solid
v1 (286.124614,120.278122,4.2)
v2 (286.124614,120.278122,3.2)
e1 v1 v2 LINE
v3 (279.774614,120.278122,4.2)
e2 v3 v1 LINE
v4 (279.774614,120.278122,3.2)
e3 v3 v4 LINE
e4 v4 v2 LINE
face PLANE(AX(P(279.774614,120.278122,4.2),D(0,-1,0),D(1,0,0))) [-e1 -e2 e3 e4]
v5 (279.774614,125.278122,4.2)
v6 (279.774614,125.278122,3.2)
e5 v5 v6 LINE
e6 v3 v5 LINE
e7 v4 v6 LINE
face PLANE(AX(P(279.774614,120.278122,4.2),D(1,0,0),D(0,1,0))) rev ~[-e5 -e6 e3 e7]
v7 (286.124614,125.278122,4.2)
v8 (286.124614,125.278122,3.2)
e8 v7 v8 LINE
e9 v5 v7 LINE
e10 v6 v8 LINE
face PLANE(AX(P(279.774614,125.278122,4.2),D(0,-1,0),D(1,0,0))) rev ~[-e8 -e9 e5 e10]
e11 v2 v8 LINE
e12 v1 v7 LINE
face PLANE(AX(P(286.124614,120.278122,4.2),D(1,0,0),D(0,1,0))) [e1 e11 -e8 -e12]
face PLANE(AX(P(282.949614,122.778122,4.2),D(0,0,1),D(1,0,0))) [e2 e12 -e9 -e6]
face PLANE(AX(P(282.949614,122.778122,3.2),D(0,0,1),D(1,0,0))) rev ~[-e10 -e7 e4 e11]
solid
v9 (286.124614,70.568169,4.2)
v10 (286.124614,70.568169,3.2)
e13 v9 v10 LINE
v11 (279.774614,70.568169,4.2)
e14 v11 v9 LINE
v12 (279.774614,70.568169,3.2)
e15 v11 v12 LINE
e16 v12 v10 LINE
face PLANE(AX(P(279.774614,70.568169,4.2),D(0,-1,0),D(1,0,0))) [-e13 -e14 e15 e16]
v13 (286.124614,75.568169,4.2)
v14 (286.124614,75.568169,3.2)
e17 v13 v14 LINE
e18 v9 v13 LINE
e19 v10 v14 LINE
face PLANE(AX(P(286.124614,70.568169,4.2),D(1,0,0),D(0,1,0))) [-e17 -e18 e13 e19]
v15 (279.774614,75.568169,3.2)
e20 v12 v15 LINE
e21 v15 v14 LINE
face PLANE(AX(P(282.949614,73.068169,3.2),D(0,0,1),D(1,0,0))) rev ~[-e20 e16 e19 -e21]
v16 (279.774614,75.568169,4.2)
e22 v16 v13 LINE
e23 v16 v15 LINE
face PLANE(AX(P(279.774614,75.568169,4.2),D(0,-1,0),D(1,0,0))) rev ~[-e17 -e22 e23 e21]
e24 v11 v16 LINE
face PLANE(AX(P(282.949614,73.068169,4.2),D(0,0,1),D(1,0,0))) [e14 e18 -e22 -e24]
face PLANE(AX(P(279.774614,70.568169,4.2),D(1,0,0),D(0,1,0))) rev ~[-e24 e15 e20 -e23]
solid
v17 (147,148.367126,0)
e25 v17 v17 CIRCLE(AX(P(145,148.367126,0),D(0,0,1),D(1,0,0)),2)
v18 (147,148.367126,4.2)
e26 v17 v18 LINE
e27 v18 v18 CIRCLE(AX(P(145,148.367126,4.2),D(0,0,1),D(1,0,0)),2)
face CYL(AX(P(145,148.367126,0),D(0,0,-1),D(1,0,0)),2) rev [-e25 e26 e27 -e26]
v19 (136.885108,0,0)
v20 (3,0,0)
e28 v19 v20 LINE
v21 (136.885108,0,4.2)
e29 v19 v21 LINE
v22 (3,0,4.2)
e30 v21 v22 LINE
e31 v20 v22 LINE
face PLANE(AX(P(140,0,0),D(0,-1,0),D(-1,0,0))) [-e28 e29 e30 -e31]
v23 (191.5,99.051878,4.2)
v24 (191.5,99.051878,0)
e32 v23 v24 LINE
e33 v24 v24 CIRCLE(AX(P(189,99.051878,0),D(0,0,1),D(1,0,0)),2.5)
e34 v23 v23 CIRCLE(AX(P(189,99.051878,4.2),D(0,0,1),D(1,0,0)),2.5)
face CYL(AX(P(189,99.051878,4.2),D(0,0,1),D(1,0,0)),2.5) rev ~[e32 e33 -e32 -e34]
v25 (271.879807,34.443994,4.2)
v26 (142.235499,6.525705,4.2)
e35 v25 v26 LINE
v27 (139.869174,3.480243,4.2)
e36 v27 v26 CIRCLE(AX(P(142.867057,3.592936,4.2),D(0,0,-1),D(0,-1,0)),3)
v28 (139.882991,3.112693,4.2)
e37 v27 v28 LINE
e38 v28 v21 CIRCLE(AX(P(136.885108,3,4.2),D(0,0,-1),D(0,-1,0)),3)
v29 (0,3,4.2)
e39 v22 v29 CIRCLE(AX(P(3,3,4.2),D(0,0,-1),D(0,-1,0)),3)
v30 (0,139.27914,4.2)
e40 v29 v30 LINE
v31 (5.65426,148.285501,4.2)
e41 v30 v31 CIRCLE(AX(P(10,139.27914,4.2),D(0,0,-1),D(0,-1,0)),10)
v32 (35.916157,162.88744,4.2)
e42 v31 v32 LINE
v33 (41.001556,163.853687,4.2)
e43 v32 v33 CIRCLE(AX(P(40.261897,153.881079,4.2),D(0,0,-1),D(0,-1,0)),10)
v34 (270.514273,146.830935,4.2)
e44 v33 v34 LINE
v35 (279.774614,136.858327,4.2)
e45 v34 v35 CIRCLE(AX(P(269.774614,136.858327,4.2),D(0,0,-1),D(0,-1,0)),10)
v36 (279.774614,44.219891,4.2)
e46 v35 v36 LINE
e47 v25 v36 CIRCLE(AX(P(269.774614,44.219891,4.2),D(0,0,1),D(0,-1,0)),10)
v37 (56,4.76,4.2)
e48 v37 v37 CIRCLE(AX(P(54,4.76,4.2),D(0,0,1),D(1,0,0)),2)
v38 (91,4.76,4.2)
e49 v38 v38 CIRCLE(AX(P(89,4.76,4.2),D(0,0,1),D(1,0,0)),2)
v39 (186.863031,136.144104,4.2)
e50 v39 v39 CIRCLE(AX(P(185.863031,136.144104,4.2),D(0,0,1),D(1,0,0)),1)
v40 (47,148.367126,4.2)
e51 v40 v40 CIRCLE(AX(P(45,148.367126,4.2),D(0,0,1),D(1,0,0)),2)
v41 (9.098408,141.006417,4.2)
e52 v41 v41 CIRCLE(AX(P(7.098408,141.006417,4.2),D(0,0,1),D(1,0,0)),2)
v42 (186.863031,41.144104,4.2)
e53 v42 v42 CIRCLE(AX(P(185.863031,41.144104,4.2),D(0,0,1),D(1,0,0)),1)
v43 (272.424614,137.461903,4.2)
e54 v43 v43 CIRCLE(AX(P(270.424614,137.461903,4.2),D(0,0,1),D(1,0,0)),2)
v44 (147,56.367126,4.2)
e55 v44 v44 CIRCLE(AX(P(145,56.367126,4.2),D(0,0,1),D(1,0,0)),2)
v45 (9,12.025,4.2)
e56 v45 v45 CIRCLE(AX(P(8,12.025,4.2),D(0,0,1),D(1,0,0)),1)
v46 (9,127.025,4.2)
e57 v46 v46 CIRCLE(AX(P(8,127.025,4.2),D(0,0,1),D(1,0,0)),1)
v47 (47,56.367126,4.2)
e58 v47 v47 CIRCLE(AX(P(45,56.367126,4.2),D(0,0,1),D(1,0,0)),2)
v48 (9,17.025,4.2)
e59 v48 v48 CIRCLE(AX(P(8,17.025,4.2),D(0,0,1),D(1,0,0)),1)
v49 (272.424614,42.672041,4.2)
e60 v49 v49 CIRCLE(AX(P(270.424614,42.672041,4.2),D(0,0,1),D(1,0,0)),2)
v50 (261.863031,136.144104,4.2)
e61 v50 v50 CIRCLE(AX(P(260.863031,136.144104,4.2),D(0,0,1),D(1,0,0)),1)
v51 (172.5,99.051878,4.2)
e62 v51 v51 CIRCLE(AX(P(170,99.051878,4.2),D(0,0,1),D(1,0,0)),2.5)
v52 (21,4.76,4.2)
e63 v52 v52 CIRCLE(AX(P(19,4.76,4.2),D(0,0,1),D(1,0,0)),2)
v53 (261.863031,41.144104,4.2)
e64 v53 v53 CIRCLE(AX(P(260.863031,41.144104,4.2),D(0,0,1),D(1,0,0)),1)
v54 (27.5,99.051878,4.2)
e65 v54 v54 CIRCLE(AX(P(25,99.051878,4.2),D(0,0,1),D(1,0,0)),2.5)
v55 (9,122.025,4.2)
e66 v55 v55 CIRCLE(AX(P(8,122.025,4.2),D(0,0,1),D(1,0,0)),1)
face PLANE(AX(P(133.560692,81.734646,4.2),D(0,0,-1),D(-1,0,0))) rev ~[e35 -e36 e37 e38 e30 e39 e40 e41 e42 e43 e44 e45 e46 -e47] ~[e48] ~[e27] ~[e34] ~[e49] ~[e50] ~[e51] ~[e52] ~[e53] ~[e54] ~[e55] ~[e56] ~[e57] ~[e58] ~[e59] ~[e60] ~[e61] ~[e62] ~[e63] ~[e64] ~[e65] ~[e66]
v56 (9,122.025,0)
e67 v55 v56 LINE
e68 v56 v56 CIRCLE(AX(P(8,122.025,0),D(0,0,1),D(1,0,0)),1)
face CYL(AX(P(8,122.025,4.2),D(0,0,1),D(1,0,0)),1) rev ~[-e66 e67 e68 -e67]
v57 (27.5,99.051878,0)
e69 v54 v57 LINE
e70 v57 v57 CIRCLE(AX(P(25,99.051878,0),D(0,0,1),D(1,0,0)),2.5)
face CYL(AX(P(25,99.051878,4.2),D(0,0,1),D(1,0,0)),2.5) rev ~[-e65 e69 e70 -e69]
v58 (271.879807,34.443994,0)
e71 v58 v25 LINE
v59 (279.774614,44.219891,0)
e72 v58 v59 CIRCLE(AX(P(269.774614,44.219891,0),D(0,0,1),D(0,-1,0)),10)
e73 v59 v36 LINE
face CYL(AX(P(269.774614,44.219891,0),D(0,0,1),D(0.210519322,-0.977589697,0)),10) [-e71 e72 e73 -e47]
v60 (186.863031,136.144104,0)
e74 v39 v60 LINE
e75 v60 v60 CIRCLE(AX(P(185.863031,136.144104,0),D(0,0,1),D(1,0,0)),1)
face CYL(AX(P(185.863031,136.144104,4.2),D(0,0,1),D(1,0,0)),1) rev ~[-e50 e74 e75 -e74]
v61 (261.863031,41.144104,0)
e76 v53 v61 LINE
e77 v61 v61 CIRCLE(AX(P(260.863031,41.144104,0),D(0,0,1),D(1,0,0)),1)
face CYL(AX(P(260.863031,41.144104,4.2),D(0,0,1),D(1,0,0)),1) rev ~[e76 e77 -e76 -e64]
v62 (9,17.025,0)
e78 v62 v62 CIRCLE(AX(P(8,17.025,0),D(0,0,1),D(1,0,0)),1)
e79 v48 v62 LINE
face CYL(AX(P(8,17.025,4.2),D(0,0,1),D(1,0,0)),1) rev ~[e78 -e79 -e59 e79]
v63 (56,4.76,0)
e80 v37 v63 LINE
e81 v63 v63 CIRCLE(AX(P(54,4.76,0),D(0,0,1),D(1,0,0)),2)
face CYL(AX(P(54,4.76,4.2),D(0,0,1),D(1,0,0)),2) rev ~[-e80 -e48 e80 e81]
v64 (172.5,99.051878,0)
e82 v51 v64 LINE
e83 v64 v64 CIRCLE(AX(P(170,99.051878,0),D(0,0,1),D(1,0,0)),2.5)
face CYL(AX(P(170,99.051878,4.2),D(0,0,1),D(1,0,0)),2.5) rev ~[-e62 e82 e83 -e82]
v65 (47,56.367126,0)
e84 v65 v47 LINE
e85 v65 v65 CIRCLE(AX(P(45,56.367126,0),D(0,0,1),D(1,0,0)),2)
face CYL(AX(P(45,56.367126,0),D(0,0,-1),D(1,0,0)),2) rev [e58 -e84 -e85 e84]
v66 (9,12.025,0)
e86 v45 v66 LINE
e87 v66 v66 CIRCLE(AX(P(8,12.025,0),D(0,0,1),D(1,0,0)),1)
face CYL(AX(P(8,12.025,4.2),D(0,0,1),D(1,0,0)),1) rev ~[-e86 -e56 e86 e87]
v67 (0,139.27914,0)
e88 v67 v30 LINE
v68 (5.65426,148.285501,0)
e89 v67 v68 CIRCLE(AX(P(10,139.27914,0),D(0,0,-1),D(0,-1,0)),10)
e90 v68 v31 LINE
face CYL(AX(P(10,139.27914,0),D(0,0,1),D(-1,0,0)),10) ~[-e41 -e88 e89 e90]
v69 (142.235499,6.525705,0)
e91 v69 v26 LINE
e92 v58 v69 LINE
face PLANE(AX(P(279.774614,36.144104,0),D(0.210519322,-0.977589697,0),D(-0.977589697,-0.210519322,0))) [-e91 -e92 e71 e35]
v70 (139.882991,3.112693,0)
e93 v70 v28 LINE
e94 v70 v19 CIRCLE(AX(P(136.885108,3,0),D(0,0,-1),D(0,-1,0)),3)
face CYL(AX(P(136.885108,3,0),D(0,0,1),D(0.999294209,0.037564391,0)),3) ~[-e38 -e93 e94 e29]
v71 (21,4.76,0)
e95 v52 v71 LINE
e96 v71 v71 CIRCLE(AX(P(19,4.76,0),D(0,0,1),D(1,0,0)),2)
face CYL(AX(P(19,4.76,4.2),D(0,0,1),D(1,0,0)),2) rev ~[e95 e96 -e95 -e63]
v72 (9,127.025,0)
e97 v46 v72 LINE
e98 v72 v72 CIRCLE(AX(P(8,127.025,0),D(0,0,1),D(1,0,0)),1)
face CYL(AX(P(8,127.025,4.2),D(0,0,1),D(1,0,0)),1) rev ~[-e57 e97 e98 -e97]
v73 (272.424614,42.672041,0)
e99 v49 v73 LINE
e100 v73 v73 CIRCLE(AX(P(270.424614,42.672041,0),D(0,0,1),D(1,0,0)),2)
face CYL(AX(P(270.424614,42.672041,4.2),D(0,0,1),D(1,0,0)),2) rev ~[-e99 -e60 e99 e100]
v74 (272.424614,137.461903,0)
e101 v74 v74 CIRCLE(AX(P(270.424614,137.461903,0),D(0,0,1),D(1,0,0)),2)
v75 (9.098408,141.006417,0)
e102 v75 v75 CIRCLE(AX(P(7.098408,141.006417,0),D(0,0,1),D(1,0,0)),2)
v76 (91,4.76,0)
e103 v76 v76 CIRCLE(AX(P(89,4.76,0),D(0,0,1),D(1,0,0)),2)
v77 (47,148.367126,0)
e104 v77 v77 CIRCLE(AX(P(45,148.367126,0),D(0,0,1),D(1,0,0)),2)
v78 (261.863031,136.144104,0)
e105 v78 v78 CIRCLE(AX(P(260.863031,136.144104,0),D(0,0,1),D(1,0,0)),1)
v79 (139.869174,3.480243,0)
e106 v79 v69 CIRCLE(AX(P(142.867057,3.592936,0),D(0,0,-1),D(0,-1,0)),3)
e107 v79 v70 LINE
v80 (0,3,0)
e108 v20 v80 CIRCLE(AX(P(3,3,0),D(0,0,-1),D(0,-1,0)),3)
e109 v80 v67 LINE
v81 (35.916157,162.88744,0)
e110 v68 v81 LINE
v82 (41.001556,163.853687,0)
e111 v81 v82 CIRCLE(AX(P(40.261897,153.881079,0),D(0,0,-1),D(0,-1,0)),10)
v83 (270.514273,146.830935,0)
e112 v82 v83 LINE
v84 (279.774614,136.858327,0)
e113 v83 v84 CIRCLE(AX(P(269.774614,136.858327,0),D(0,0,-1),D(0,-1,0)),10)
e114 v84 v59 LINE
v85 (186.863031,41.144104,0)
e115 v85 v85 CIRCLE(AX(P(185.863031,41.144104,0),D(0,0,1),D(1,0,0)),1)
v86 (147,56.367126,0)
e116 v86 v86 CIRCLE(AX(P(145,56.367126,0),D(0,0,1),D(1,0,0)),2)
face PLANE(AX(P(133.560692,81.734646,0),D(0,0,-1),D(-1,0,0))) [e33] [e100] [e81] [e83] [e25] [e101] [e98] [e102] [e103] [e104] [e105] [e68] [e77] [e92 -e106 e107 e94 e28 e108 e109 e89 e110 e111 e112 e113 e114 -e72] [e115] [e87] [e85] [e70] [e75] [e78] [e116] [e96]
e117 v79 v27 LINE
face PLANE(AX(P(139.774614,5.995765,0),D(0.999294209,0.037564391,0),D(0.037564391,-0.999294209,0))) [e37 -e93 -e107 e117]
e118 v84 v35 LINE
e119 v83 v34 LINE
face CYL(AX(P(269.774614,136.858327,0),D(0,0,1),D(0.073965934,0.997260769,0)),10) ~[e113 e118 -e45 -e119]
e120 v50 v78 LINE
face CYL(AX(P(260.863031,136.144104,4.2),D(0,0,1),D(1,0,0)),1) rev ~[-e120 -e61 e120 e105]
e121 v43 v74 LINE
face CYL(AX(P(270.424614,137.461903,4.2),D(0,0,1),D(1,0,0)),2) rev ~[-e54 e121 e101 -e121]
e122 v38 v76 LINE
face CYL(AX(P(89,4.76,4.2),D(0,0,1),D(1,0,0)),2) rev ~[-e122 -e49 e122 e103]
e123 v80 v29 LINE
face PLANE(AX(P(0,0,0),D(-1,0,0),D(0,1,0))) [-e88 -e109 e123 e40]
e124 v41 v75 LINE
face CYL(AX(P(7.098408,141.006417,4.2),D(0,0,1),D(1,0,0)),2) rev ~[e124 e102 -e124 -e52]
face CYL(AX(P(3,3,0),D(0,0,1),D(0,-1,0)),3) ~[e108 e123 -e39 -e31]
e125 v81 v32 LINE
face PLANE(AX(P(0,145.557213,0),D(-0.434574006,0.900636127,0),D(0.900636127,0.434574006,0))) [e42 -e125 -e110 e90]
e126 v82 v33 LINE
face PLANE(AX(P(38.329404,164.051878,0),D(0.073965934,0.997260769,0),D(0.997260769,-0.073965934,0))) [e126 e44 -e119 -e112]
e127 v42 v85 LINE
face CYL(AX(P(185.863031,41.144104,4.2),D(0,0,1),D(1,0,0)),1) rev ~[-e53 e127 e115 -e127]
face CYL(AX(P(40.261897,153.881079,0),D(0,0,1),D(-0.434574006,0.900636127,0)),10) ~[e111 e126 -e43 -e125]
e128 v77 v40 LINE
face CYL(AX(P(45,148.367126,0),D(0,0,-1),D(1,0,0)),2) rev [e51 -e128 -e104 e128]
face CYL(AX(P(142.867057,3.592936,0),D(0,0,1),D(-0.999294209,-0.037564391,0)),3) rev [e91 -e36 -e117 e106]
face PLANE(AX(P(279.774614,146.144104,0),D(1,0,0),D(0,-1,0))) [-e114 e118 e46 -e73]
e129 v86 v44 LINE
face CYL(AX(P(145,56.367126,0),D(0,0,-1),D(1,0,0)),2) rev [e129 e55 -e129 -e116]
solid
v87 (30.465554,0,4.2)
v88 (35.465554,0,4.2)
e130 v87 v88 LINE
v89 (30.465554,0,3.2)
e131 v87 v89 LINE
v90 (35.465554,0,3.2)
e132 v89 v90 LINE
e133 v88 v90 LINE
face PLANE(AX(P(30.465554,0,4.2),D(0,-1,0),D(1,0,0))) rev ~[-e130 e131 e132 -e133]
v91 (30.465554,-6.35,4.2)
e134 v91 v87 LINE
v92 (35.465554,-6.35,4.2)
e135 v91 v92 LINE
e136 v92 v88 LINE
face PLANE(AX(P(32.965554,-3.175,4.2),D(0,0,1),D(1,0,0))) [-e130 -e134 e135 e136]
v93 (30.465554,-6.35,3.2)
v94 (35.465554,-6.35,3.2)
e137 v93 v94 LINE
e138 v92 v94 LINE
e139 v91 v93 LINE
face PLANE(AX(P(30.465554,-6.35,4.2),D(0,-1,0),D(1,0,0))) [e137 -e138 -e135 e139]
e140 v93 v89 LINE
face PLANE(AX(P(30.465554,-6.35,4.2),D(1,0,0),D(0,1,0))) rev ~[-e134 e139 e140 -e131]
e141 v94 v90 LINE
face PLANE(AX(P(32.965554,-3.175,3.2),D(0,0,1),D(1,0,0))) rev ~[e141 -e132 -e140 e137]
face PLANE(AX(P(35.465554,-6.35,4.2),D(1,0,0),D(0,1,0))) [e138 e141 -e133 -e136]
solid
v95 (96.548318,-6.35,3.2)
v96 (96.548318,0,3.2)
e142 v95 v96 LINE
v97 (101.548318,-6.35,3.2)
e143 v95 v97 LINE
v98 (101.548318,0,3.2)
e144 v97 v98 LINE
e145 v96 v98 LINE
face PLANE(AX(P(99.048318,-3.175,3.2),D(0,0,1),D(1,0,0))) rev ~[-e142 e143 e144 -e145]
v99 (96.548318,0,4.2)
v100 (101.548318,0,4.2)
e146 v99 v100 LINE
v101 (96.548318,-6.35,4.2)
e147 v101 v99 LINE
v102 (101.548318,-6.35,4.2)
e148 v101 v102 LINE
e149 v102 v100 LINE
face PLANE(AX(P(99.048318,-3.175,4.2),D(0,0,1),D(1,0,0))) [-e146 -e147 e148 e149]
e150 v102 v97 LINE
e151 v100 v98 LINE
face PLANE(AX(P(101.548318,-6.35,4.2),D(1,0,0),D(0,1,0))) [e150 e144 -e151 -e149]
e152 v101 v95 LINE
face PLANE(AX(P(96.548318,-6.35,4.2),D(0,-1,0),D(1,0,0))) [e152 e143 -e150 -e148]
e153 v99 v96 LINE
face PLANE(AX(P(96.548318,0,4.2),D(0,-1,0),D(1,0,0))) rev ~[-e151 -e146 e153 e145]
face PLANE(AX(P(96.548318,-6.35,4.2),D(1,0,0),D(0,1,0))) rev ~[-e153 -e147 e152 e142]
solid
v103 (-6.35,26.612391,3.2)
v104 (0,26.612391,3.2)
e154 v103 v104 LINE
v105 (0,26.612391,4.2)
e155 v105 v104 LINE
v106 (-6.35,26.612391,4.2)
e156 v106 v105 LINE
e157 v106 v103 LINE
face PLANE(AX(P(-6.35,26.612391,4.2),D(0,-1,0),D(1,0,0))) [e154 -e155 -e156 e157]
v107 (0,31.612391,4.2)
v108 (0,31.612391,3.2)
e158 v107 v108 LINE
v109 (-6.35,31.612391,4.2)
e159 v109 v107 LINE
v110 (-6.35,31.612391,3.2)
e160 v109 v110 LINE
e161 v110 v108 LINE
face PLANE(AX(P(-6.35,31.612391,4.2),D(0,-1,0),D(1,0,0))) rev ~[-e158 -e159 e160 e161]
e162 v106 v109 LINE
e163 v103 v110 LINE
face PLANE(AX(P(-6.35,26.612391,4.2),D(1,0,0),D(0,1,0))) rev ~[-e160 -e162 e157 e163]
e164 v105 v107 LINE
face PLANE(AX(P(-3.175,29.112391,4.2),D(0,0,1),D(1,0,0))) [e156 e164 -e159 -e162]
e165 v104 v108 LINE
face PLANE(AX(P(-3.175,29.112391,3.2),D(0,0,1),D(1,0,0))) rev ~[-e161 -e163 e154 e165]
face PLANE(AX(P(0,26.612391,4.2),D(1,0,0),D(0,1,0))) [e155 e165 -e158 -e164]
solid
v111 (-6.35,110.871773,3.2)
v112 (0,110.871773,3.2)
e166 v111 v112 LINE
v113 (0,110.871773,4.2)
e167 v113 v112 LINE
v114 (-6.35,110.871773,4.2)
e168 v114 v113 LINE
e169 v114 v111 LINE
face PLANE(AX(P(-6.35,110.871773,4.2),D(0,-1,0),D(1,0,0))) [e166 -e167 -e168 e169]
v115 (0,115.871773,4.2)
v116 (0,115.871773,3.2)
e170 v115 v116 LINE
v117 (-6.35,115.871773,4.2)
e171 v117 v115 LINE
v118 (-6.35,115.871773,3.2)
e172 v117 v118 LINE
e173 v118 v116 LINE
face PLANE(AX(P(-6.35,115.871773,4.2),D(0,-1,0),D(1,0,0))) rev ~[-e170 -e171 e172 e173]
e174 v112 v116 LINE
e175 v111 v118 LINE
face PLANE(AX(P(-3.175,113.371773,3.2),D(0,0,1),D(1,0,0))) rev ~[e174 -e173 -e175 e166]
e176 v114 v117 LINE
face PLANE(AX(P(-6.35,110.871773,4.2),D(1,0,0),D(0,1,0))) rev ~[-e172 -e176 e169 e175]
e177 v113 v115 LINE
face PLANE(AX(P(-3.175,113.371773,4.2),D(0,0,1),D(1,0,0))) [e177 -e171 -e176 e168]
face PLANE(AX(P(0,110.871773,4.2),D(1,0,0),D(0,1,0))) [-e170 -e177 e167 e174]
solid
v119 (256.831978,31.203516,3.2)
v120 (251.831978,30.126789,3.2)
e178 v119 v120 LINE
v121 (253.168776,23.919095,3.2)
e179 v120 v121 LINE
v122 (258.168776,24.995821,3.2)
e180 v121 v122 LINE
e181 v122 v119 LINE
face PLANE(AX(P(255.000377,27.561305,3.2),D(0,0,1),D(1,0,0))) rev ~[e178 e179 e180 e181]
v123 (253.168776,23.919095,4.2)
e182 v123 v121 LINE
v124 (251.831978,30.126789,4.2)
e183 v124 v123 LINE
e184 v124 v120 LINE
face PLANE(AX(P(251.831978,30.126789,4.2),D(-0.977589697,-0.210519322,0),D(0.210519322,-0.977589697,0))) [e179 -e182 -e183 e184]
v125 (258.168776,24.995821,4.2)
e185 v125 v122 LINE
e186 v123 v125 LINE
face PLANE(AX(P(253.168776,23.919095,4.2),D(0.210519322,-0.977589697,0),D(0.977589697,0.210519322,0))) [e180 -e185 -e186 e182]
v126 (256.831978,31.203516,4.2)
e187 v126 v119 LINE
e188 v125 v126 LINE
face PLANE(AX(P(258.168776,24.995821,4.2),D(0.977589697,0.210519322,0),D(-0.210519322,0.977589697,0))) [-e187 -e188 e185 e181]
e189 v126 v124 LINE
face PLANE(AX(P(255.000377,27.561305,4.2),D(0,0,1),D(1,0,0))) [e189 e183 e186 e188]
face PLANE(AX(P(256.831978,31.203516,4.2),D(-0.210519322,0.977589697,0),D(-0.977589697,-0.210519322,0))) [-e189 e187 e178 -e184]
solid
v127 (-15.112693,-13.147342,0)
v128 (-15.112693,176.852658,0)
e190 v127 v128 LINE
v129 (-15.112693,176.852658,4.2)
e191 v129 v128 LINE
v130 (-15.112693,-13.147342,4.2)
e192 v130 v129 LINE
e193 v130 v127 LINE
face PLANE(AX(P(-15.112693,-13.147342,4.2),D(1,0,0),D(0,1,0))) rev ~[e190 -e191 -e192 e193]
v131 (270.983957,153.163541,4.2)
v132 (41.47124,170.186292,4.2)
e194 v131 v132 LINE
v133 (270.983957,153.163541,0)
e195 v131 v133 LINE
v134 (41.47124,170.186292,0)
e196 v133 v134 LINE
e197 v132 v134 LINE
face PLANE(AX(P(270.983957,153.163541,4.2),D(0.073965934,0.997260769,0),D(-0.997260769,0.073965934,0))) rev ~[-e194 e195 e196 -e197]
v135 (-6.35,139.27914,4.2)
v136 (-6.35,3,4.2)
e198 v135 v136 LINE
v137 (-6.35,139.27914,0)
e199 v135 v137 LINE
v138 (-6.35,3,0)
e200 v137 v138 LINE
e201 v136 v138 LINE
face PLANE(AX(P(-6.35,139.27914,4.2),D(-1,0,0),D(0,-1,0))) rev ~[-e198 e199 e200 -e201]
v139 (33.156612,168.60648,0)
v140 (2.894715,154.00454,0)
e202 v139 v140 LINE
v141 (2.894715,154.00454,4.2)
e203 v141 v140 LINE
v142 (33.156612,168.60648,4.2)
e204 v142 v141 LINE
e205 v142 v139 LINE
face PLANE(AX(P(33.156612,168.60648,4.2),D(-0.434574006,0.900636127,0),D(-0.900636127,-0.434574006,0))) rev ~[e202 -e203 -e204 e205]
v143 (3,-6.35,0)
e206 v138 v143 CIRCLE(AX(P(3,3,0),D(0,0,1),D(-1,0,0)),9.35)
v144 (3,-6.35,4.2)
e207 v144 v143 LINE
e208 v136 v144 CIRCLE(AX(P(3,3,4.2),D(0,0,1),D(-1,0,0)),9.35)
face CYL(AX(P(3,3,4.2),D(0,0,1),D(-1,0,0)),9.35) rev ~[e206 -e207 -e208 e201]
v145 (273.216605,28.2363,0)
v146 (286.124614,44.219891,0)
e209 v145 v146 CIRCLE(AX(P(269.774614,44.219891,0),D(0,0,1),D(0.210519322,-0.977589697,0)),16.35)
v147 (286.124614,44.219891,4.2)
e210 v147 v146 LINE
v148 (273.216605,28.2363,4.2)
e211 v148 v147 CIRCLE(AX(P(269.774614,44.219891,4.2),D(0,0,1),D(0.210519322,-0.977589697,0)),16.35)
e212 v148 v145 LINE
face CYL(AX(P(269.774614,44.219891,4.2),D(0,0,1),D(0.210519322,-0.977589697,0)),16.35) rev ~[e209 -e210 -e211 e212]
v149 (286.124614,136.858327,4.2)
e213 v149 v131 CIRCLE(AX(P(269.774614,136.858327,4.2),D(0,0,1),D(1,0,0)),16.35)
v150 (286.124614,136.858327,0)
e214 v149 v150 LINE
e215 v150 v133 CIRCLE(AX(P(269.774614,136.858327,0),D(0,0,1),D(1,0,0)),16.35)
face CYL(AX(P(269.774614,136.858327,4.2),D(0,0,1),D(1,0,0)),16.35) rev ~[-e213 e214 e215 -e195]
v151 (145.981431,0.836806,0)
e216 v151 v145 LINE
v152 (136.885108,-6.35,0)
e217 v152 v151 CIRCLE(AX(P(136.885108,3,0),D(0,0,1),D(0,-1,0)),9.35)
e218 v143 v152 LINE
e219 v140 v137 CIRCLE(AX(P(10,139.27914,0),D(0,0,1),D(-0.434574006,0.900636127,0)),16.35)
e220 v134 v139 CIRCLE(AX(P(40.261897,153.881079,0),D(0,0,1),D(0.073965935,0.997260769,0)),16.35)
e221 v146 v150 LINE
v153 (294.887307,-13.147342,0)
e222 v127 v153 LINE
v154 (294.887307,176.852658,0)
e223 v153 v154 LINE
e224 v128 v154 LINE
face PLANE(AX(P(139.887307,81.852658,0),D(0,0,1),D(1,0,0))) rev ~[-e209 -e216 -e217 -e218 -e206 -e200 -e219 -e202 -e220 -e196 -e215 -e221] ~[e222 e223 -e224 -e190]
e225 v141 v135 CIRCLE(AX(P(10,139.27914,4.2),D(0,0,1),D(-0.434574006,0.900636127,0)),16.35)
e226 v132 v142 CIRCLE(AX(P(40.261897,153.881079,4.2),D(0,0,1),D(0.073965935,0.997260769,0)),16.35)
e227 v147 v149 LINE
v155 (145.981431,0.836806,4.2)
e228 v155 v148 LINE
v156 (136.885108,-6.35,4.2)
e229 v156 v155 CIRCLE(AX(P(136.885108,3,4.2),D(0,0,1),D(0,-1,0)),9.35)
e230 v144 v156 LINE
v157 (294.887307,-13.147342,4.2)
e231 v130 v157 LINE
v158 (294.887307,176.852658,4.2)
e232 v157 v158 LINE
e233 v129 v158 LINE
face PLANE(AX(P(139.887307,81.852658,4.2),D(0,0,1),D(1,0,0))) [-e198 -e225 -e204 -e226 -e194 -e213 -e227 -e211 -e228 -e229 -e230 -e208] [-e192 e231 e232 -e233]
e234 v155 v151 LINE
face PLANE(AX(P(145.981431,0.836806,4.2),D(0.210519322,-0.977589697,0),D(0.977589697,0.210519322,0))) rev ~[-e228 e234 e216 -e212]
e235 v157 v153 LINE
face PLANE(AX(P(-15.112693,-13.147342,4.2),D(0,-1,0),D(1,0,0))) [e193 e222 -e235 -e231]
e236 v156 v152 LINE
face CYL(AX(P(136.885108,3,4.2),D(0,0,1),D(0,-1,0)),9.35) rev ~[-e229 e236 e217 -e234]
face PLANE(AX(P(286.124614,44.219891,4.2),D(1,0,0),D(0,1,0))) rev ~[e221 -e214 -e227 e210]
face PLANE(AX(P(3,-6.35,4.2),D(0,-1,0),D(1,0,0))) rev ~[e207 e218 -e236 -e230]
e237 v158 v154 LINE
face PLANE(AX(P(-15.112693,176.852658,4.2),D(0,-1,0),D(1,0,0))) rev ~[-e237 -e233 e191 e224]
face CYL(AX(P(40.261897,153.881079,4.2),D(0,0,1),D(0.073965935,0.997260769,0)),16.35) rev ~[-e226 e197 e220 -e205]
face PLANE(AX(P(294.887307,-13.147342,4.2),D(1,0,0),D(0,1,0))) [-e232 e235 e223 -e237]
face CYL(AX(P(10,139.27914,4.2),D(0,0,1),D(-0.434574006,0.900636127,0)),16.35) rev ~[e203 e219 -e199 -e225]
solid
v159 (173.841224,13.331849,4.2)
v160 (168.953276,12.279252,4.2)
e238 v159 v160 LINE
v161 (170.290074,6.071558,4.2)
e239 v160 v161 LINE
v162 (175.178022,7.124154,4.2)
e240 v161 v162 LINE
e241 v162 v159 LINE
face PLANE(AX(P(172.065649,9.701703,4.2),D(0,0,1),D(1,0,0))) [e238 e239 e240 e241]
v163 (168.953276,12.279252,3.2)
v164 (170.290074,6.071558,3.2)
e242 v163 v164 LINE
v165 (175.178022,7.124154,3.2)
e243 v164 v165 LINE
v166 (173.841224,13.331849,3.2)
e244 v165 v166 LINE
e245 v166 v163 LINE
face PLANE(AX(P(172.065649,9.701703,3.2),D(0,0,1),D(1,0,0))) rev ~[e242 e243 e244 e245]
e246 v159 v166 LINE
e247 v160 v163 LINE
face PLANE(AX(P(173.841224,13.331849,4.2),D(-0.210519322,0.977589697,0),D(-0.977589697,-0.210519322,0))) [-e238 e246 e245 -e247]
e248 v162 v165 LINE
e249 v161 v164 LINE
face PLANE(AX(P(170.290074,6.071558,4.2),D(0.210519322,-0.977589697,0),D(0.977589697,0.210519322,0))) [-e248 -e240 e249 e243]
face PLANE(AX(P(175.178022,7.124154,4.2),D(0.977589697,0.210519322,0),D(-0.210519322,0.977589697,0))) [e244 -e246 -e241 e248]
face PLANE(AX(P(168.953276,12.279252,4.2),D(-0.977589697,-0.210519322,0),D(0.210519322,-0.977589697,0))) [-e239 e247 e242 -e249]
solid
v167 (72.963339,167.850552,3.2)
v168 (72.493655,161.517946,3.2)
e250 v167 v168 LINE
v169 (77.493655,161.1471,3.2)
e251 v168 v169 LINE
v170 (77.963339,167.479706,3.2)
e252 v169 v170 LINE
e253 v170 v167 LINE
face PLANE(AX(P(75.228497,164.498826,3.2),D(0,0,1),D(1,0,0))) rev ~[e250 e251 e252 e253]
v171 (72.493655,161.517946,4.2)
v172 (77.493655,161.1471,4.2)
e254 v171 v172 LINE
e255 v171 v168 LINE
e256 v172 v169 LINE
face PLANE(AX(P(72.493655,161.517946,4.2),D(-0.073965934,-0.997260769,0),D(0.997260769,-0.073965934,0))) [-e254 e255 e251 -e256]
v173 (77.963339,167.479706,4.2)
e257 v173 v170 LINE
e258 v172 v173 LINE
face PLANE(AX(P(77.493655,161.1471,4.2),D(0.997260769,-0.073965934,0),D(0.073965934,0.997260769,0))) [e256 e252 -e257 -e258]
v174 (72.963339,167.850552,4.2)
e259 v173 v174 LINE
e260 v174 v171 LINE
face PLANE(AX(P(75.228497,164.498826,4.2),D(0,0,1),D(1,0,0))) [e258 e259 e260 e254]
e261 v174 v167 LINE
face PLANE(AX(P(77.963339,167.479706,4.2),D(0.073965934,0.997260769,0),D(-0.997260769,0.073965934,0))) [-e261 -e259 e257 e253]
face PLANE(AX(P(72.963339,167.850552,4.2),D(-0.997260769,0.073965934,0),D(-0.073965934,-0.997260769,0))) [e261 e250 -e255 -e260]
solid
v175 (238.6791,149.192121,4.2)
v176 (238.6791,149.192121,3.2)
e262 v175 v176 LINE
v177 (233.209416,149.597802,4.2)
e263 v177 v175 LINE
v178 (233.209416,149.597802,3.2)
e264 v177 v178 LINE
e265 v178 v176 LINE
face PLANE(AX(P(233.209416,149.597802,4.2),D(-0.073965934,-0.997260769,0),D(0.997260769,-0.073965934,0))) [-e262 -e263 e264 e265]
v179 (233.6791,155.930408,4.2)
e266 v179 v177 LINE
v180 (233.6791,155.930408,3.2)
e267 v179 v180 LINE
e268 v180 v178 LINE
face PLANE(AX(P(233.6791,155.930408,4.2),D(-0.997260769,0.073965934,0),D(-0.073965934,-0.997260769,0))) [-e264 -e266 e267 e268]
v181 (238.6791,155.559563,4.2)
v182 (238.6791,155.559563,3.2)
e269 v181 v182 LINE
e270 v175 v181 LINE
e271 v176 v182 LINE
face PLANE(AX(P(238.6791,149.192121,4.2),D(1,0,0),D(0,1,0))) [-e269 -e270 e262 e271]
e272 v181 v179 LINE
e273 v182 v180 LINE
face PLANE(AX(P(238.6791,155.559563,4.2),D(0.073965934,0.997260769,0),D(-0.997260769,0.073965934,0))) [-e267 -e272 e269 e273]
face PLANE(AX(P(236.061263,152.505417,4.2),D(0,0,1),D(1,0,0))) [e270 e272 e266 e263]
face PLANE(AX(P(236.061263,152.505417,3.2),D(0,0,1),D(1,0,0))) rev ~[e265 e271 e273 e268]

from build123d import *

# Parameters (mm, degrees)
SKETCH1_R              = 2
BOSS_EXTRUDE1_DEPTH    = 4.2
SKETCH3_R              = 2
SKETCH3_R_2            = 2.5
SKETCH3_R_3            = 1
CUT_EXTRUDE1_DEPTH     = 5.2
FILLET1_R              = 10
FILLET2_R              = 3
FILLET3_R              = 3
SKETCH5_W              = 310
SKETCH5_H              = 190
BOSS_EXTRUDE2_DEPTH    = 4.2
SKETCH6_W              = 6.35
SKETCH6_H              = 5
BOSS_EXTRUDE3_DEPTH    = 1
BOSS_EXTRUDE3_2_DEPTH  = 1
BOSS_EXTRUDE3_3_DEPTH  = 1
SKETCH6_W_2            = 5
SKETCH6_H_2            = 6.35
BOSS_EXTRUDE3_4_DEPTH  = 1
BOSS_EXTRUDE3_5_DEPTH  = 1
BOSS_EXTRUDE3_6_DEPTH  = 1
BOSS_EXTRUDE3_7_DEPTH  = 1
BOSS_EXTRUDE3_8_DEPTH  = 1
BOSS_EXTRUDE3_9_DEPTH  = 1
BOSS_EXTRUDE3_10_DEPTH = 1


with BuildPart() as part:
    # Sketch1 → Boss-Extrude1 (new body)
    with BuildSketch(Plane.XY):
        Polygon((0, 0), (0, 145.557213411), (38.329404323, 164.051877681), (279.774613656, 146.144103687), (279.774613656, 36.144103687), (139.774613656, 5.995765255), (140, 0), align=None)
        with Locations((45, 148.3671256)):
            Circle(SKETCH1_R, mode=Mode.SUBTRACT)
        with Locations((45, 56.3671256)):
            Circle(SKETCH1_R, mode=Mode.SUBTRACT)
        with Locations((145, 148.3671256)):
            Circle(SKETCH1_R, mode=Mode.SUBTRACT)
        with Locations((145, 56.3671256)):
            Circle(SKETCH1_R, mode=Mode.SUBTRACT)
    extrude(amount=BOSS_EXTRUDE1_DEPTH)

    # Sketch3 → Cut-Extrude1 (cut, through all)
    with BuildSketch(Plane.XY.offset(4.2)):
        with Locations((7.098408151, 141.006416768)):
            Circle(SKETCH3_R)
        with Locations((19, 4.76)):
            Circle(SKETCH3_R)
        with Locations((54, 4.76)):
            Circle(SKETCH3_R)
        with Locations((89, 4.76)):
            Circle(SKETCH3_R)
        with Locations((270.424613656, 137.461902613)):
            Circle(SKETCH3_R)
        with Locations((270.424613656, 42.672041086)):
            Circle(SKETCH3_R)
        with Locations((25, 99.051877681)):
            Circle(SKETCH3_R_2)
        with Locations((189, 99.051877681)):
            Circle(SKETCH3_R_2)
        with Locations((170, 99.051877681)):
            Circle(SKETCH3_R_2)
        with Locations((8, 12.025)):
            Circle(SKETCH3_R_3)
        with Locations((8, 17.025)):
            Circle(SKETCH3_R_3)
        with Locations((8, 127.025)):
            Circle(SKETCH3_R_3)
        with Locations((8, 122.025)):
            Circle(SKETCH3_R_3)
        with Locations((185.863031262, 136.144103687)):
            Circle(SKETCH3_R_3)
        with Locations((260.863031262, 136.144103687)):
            Circle(SKETCH3_R_3)
        with Locations((185.863031262, 41.144103687)):
            Circle(SKETCH3_R_3)
        with Locations((260.863031262, 41.144103687)):
            Circle(SKETCH3_R_3)
    extrude(amount=-CUT_EXTRUDE1_DEPTH, mode=Mode.SUBTRACT)

    # Fillet1
    fillet1_edges = [part.edges().sort_by_distance(p)[0] for p in [
        (0, 145.557213411, 2.1),
        (38.329404323, 164.051877681, 2.1),
        (279.774613656, 146.144103687, 2.1),
        (279.774613656, 36.144103687, 2.1),
    ]]
    fillet(fillet1_edges, radius=FILLET1_R)

    # Fillet2
    fillet2_edges = [part.edges().sort_by_distance(p)[0] for p in [
        (139.774613656, 5.995765255, 2.1),
    ]]
    fillet(fillet2_edges, radius=FILLET2_R)

    # Fillet3
    fillet3_edges = [part.edges().sort_by_distance(p)[0] for p in [
        (0, 0, 2.1),
        (140, 0, 2.1),
    ]]
    fillet(fillet3_edges, radius=FILLET3_R)


with BuildPart() as body_2:
    # Sketch5 → Boss-Extrude2 (new body)
    with BuildSketch(Plane.XY.offset(4.2)):
        with Locations((139.887306828, 81.852658058)):
            Rectangle(SKETCH5_W, SKETCH5_H)
        with BuildLine():
            Line((-6.35, 139.279139761), (-6.35, 3))
            ThreePointArc((-6.35, 3), (-3.611448404, -3.611448404), (3, -6.35))
            Line((3, -6.35), (136.885108366, -6.35))
            ThreePointArc((136.885108366, -6.35), (142.681514182, -4.336496413), (145.981431463, 0.836806499))
            Line((145.981431463, 0.836806499), (273.216604564, 28.236299778))
            ThreePointArc((273.216604564, 28.236299778), (282.494657904, 33.947453717), (286.124613656, 44.21989132))
            Line((286.124613656, 44.21989132), (286.124613656, 136.858327138))
            ThreePointArc((286.124613656, 136.858327138), (281.755750047, 147.983742671), (270.983956679, 153.163540704))
            Line((270.983956679, 153.163540704), (41.471240181, 170.186292438))
            ThreePointArc((41.471240181, 170.186292438), (37.209933012, 169.943706766), (33.156612155, 168.606479546))
            Line((33.156612155, 168.606479546), (2.894714997, 154.004540435))
            ThreePointArc((2.894714997, 154.004540435), (-3.847272471, 147.972559404), (-6.35, 139.279139761))
        make_face(mode=Mode.SUBTRACT)
    extrude(amount=-BOSS_EXTRUDE2_DEPTH)


with BuildPart() as body_3:
    # Sketch6 → Boss-Extrude3 (new body)
    with BuildSketch(Plane.XY.offset(4.2)):
        with Locations((-3.175, 113.371772914)):
            Rectangle(SKETCH6_W, SKETCH6_H)
    extrude(amount=-BOSS_EXTRUDE3_DEPTH)


with BuildPart() as body_4:
    # Sketch6 → Boss-Extrude3 2 (new body)
    with BuildSketch(Plane.XY.offset(4.2)):
        Polygon((72.963338707, 167.850551818), (72.493655025, 161.517945938), (77.493655025, 161.147100435), (77.963338707, 167.479706316), align=None)
    extrude(amount=-BOSS_EXTRUDE3_2_DEPTH)


with BuildPart() as body_5:
    # Sketch6 → Boss-Extrude3 3 (new body)
    with BuildSketch(Plane.XY.offset(4.2)):
        with Locations((-3.175, 29.112391133)):
            Rectangle(SKETCH6_W, SKETCH6_H)
    extrude(amount=-BOSS_EXTRUDE3_3_DEPTH)


with BuildPart() as body_6:
    # Sketch6 → Boss-Extrude3 4 (new body)
    with BuildSketch(Plane.XY.offset(4.2)):
        with Locations((32.965553525, -3.175)):
            Rectangle(SKETCH6_W_2, SKETCH6_H_2)
    extrude(amount=-BOSS_EXTRUDE3_4_DEPTH)


with BuildPart() as body_7:
    # Sketch6 → Boss-Extrude3 5 (new body)
    with BuildSketch(Plane.XY.offset(4.2)):
        with Locations((99.048318073, -3.175)):
            Rectangle(SKETCH6_W_2, SKETCH6_H_2)
    extrude(amount=-BOSS_EXTRUDE3_5_DEPTH)


with BuildPart() as body_8:
    # Sketch6 → Boss-Extrude3 6 (new body)
    with BuildSketch(Plane.XY.offset(4.2)):
        Polygon((168.953275808, 12.279252266), (170.2900735, 6.071557692), (175.178021984, 7.1241543), (173.841224292, 13.331848874), align=None)
    extrude(amount=-BOSS_EXTRUDE3_6_DEPTH)


with BuildPart() as body_9:
    # Sketch6 → Boss-Extrude3 7 (new body)
    with BuildSketch(Plane.XY.offset(4.2)):
        Polygon((251.831978077, 30.126789157), (253.168775769, 23.919094583), (258.168775769, 24.995820956), (256.831978077, 31.20351553), align=None)
    extrude(amount=-BOSS_EXTRUDE3_7_DEPTH)


with BuildPart() as body_10:
    # Sketch6 → Boss-Extrude3 8 (new body)
    with BuildSketch(Plane.XY.offset(4.2)):
        with Locations((282.949613656, 122.778121561)):
            Rectangle(SKETCH6_W, SKETCH6_H)
    extrude(amount=-BOSS_EXTRUDE3_8_DEPTH)


with BuildPart() as body_11:
    # Sketch6 → Boss-Extrude3 9 (new body)
    with BuildSketch(Plane.XY.offset(4.2)):
        with Locations((282.949613656, 73.068168903)):
            Rectangle(SKETCH6_W, SKETCH6_H)
    extrude(amount=-BOSS_EXTRUDE3_9_DEPTH)


with BuildPart() as body_12:
    # Sketch6 → Boss-Extrude3 10 (new body)
    with BuildSketch(Plane.XY.offset(4.2)):
        Polygon((233.679099892, 155.930408376), (233.20941621, 149.597802496), (238.679099892, 149.192120977), (238.679099892, 155.559562874), align=None)
    extrude(amount=-BOSS_EXTRUDE3_10_DEPTH)


solid = Compound([part.part, body_2.part, body_3.part, body_4.part, body_5.part, body_6.part, body_7.part, body_8.part, body_9.part, body_10.part, body_11.part, body_12.part])
